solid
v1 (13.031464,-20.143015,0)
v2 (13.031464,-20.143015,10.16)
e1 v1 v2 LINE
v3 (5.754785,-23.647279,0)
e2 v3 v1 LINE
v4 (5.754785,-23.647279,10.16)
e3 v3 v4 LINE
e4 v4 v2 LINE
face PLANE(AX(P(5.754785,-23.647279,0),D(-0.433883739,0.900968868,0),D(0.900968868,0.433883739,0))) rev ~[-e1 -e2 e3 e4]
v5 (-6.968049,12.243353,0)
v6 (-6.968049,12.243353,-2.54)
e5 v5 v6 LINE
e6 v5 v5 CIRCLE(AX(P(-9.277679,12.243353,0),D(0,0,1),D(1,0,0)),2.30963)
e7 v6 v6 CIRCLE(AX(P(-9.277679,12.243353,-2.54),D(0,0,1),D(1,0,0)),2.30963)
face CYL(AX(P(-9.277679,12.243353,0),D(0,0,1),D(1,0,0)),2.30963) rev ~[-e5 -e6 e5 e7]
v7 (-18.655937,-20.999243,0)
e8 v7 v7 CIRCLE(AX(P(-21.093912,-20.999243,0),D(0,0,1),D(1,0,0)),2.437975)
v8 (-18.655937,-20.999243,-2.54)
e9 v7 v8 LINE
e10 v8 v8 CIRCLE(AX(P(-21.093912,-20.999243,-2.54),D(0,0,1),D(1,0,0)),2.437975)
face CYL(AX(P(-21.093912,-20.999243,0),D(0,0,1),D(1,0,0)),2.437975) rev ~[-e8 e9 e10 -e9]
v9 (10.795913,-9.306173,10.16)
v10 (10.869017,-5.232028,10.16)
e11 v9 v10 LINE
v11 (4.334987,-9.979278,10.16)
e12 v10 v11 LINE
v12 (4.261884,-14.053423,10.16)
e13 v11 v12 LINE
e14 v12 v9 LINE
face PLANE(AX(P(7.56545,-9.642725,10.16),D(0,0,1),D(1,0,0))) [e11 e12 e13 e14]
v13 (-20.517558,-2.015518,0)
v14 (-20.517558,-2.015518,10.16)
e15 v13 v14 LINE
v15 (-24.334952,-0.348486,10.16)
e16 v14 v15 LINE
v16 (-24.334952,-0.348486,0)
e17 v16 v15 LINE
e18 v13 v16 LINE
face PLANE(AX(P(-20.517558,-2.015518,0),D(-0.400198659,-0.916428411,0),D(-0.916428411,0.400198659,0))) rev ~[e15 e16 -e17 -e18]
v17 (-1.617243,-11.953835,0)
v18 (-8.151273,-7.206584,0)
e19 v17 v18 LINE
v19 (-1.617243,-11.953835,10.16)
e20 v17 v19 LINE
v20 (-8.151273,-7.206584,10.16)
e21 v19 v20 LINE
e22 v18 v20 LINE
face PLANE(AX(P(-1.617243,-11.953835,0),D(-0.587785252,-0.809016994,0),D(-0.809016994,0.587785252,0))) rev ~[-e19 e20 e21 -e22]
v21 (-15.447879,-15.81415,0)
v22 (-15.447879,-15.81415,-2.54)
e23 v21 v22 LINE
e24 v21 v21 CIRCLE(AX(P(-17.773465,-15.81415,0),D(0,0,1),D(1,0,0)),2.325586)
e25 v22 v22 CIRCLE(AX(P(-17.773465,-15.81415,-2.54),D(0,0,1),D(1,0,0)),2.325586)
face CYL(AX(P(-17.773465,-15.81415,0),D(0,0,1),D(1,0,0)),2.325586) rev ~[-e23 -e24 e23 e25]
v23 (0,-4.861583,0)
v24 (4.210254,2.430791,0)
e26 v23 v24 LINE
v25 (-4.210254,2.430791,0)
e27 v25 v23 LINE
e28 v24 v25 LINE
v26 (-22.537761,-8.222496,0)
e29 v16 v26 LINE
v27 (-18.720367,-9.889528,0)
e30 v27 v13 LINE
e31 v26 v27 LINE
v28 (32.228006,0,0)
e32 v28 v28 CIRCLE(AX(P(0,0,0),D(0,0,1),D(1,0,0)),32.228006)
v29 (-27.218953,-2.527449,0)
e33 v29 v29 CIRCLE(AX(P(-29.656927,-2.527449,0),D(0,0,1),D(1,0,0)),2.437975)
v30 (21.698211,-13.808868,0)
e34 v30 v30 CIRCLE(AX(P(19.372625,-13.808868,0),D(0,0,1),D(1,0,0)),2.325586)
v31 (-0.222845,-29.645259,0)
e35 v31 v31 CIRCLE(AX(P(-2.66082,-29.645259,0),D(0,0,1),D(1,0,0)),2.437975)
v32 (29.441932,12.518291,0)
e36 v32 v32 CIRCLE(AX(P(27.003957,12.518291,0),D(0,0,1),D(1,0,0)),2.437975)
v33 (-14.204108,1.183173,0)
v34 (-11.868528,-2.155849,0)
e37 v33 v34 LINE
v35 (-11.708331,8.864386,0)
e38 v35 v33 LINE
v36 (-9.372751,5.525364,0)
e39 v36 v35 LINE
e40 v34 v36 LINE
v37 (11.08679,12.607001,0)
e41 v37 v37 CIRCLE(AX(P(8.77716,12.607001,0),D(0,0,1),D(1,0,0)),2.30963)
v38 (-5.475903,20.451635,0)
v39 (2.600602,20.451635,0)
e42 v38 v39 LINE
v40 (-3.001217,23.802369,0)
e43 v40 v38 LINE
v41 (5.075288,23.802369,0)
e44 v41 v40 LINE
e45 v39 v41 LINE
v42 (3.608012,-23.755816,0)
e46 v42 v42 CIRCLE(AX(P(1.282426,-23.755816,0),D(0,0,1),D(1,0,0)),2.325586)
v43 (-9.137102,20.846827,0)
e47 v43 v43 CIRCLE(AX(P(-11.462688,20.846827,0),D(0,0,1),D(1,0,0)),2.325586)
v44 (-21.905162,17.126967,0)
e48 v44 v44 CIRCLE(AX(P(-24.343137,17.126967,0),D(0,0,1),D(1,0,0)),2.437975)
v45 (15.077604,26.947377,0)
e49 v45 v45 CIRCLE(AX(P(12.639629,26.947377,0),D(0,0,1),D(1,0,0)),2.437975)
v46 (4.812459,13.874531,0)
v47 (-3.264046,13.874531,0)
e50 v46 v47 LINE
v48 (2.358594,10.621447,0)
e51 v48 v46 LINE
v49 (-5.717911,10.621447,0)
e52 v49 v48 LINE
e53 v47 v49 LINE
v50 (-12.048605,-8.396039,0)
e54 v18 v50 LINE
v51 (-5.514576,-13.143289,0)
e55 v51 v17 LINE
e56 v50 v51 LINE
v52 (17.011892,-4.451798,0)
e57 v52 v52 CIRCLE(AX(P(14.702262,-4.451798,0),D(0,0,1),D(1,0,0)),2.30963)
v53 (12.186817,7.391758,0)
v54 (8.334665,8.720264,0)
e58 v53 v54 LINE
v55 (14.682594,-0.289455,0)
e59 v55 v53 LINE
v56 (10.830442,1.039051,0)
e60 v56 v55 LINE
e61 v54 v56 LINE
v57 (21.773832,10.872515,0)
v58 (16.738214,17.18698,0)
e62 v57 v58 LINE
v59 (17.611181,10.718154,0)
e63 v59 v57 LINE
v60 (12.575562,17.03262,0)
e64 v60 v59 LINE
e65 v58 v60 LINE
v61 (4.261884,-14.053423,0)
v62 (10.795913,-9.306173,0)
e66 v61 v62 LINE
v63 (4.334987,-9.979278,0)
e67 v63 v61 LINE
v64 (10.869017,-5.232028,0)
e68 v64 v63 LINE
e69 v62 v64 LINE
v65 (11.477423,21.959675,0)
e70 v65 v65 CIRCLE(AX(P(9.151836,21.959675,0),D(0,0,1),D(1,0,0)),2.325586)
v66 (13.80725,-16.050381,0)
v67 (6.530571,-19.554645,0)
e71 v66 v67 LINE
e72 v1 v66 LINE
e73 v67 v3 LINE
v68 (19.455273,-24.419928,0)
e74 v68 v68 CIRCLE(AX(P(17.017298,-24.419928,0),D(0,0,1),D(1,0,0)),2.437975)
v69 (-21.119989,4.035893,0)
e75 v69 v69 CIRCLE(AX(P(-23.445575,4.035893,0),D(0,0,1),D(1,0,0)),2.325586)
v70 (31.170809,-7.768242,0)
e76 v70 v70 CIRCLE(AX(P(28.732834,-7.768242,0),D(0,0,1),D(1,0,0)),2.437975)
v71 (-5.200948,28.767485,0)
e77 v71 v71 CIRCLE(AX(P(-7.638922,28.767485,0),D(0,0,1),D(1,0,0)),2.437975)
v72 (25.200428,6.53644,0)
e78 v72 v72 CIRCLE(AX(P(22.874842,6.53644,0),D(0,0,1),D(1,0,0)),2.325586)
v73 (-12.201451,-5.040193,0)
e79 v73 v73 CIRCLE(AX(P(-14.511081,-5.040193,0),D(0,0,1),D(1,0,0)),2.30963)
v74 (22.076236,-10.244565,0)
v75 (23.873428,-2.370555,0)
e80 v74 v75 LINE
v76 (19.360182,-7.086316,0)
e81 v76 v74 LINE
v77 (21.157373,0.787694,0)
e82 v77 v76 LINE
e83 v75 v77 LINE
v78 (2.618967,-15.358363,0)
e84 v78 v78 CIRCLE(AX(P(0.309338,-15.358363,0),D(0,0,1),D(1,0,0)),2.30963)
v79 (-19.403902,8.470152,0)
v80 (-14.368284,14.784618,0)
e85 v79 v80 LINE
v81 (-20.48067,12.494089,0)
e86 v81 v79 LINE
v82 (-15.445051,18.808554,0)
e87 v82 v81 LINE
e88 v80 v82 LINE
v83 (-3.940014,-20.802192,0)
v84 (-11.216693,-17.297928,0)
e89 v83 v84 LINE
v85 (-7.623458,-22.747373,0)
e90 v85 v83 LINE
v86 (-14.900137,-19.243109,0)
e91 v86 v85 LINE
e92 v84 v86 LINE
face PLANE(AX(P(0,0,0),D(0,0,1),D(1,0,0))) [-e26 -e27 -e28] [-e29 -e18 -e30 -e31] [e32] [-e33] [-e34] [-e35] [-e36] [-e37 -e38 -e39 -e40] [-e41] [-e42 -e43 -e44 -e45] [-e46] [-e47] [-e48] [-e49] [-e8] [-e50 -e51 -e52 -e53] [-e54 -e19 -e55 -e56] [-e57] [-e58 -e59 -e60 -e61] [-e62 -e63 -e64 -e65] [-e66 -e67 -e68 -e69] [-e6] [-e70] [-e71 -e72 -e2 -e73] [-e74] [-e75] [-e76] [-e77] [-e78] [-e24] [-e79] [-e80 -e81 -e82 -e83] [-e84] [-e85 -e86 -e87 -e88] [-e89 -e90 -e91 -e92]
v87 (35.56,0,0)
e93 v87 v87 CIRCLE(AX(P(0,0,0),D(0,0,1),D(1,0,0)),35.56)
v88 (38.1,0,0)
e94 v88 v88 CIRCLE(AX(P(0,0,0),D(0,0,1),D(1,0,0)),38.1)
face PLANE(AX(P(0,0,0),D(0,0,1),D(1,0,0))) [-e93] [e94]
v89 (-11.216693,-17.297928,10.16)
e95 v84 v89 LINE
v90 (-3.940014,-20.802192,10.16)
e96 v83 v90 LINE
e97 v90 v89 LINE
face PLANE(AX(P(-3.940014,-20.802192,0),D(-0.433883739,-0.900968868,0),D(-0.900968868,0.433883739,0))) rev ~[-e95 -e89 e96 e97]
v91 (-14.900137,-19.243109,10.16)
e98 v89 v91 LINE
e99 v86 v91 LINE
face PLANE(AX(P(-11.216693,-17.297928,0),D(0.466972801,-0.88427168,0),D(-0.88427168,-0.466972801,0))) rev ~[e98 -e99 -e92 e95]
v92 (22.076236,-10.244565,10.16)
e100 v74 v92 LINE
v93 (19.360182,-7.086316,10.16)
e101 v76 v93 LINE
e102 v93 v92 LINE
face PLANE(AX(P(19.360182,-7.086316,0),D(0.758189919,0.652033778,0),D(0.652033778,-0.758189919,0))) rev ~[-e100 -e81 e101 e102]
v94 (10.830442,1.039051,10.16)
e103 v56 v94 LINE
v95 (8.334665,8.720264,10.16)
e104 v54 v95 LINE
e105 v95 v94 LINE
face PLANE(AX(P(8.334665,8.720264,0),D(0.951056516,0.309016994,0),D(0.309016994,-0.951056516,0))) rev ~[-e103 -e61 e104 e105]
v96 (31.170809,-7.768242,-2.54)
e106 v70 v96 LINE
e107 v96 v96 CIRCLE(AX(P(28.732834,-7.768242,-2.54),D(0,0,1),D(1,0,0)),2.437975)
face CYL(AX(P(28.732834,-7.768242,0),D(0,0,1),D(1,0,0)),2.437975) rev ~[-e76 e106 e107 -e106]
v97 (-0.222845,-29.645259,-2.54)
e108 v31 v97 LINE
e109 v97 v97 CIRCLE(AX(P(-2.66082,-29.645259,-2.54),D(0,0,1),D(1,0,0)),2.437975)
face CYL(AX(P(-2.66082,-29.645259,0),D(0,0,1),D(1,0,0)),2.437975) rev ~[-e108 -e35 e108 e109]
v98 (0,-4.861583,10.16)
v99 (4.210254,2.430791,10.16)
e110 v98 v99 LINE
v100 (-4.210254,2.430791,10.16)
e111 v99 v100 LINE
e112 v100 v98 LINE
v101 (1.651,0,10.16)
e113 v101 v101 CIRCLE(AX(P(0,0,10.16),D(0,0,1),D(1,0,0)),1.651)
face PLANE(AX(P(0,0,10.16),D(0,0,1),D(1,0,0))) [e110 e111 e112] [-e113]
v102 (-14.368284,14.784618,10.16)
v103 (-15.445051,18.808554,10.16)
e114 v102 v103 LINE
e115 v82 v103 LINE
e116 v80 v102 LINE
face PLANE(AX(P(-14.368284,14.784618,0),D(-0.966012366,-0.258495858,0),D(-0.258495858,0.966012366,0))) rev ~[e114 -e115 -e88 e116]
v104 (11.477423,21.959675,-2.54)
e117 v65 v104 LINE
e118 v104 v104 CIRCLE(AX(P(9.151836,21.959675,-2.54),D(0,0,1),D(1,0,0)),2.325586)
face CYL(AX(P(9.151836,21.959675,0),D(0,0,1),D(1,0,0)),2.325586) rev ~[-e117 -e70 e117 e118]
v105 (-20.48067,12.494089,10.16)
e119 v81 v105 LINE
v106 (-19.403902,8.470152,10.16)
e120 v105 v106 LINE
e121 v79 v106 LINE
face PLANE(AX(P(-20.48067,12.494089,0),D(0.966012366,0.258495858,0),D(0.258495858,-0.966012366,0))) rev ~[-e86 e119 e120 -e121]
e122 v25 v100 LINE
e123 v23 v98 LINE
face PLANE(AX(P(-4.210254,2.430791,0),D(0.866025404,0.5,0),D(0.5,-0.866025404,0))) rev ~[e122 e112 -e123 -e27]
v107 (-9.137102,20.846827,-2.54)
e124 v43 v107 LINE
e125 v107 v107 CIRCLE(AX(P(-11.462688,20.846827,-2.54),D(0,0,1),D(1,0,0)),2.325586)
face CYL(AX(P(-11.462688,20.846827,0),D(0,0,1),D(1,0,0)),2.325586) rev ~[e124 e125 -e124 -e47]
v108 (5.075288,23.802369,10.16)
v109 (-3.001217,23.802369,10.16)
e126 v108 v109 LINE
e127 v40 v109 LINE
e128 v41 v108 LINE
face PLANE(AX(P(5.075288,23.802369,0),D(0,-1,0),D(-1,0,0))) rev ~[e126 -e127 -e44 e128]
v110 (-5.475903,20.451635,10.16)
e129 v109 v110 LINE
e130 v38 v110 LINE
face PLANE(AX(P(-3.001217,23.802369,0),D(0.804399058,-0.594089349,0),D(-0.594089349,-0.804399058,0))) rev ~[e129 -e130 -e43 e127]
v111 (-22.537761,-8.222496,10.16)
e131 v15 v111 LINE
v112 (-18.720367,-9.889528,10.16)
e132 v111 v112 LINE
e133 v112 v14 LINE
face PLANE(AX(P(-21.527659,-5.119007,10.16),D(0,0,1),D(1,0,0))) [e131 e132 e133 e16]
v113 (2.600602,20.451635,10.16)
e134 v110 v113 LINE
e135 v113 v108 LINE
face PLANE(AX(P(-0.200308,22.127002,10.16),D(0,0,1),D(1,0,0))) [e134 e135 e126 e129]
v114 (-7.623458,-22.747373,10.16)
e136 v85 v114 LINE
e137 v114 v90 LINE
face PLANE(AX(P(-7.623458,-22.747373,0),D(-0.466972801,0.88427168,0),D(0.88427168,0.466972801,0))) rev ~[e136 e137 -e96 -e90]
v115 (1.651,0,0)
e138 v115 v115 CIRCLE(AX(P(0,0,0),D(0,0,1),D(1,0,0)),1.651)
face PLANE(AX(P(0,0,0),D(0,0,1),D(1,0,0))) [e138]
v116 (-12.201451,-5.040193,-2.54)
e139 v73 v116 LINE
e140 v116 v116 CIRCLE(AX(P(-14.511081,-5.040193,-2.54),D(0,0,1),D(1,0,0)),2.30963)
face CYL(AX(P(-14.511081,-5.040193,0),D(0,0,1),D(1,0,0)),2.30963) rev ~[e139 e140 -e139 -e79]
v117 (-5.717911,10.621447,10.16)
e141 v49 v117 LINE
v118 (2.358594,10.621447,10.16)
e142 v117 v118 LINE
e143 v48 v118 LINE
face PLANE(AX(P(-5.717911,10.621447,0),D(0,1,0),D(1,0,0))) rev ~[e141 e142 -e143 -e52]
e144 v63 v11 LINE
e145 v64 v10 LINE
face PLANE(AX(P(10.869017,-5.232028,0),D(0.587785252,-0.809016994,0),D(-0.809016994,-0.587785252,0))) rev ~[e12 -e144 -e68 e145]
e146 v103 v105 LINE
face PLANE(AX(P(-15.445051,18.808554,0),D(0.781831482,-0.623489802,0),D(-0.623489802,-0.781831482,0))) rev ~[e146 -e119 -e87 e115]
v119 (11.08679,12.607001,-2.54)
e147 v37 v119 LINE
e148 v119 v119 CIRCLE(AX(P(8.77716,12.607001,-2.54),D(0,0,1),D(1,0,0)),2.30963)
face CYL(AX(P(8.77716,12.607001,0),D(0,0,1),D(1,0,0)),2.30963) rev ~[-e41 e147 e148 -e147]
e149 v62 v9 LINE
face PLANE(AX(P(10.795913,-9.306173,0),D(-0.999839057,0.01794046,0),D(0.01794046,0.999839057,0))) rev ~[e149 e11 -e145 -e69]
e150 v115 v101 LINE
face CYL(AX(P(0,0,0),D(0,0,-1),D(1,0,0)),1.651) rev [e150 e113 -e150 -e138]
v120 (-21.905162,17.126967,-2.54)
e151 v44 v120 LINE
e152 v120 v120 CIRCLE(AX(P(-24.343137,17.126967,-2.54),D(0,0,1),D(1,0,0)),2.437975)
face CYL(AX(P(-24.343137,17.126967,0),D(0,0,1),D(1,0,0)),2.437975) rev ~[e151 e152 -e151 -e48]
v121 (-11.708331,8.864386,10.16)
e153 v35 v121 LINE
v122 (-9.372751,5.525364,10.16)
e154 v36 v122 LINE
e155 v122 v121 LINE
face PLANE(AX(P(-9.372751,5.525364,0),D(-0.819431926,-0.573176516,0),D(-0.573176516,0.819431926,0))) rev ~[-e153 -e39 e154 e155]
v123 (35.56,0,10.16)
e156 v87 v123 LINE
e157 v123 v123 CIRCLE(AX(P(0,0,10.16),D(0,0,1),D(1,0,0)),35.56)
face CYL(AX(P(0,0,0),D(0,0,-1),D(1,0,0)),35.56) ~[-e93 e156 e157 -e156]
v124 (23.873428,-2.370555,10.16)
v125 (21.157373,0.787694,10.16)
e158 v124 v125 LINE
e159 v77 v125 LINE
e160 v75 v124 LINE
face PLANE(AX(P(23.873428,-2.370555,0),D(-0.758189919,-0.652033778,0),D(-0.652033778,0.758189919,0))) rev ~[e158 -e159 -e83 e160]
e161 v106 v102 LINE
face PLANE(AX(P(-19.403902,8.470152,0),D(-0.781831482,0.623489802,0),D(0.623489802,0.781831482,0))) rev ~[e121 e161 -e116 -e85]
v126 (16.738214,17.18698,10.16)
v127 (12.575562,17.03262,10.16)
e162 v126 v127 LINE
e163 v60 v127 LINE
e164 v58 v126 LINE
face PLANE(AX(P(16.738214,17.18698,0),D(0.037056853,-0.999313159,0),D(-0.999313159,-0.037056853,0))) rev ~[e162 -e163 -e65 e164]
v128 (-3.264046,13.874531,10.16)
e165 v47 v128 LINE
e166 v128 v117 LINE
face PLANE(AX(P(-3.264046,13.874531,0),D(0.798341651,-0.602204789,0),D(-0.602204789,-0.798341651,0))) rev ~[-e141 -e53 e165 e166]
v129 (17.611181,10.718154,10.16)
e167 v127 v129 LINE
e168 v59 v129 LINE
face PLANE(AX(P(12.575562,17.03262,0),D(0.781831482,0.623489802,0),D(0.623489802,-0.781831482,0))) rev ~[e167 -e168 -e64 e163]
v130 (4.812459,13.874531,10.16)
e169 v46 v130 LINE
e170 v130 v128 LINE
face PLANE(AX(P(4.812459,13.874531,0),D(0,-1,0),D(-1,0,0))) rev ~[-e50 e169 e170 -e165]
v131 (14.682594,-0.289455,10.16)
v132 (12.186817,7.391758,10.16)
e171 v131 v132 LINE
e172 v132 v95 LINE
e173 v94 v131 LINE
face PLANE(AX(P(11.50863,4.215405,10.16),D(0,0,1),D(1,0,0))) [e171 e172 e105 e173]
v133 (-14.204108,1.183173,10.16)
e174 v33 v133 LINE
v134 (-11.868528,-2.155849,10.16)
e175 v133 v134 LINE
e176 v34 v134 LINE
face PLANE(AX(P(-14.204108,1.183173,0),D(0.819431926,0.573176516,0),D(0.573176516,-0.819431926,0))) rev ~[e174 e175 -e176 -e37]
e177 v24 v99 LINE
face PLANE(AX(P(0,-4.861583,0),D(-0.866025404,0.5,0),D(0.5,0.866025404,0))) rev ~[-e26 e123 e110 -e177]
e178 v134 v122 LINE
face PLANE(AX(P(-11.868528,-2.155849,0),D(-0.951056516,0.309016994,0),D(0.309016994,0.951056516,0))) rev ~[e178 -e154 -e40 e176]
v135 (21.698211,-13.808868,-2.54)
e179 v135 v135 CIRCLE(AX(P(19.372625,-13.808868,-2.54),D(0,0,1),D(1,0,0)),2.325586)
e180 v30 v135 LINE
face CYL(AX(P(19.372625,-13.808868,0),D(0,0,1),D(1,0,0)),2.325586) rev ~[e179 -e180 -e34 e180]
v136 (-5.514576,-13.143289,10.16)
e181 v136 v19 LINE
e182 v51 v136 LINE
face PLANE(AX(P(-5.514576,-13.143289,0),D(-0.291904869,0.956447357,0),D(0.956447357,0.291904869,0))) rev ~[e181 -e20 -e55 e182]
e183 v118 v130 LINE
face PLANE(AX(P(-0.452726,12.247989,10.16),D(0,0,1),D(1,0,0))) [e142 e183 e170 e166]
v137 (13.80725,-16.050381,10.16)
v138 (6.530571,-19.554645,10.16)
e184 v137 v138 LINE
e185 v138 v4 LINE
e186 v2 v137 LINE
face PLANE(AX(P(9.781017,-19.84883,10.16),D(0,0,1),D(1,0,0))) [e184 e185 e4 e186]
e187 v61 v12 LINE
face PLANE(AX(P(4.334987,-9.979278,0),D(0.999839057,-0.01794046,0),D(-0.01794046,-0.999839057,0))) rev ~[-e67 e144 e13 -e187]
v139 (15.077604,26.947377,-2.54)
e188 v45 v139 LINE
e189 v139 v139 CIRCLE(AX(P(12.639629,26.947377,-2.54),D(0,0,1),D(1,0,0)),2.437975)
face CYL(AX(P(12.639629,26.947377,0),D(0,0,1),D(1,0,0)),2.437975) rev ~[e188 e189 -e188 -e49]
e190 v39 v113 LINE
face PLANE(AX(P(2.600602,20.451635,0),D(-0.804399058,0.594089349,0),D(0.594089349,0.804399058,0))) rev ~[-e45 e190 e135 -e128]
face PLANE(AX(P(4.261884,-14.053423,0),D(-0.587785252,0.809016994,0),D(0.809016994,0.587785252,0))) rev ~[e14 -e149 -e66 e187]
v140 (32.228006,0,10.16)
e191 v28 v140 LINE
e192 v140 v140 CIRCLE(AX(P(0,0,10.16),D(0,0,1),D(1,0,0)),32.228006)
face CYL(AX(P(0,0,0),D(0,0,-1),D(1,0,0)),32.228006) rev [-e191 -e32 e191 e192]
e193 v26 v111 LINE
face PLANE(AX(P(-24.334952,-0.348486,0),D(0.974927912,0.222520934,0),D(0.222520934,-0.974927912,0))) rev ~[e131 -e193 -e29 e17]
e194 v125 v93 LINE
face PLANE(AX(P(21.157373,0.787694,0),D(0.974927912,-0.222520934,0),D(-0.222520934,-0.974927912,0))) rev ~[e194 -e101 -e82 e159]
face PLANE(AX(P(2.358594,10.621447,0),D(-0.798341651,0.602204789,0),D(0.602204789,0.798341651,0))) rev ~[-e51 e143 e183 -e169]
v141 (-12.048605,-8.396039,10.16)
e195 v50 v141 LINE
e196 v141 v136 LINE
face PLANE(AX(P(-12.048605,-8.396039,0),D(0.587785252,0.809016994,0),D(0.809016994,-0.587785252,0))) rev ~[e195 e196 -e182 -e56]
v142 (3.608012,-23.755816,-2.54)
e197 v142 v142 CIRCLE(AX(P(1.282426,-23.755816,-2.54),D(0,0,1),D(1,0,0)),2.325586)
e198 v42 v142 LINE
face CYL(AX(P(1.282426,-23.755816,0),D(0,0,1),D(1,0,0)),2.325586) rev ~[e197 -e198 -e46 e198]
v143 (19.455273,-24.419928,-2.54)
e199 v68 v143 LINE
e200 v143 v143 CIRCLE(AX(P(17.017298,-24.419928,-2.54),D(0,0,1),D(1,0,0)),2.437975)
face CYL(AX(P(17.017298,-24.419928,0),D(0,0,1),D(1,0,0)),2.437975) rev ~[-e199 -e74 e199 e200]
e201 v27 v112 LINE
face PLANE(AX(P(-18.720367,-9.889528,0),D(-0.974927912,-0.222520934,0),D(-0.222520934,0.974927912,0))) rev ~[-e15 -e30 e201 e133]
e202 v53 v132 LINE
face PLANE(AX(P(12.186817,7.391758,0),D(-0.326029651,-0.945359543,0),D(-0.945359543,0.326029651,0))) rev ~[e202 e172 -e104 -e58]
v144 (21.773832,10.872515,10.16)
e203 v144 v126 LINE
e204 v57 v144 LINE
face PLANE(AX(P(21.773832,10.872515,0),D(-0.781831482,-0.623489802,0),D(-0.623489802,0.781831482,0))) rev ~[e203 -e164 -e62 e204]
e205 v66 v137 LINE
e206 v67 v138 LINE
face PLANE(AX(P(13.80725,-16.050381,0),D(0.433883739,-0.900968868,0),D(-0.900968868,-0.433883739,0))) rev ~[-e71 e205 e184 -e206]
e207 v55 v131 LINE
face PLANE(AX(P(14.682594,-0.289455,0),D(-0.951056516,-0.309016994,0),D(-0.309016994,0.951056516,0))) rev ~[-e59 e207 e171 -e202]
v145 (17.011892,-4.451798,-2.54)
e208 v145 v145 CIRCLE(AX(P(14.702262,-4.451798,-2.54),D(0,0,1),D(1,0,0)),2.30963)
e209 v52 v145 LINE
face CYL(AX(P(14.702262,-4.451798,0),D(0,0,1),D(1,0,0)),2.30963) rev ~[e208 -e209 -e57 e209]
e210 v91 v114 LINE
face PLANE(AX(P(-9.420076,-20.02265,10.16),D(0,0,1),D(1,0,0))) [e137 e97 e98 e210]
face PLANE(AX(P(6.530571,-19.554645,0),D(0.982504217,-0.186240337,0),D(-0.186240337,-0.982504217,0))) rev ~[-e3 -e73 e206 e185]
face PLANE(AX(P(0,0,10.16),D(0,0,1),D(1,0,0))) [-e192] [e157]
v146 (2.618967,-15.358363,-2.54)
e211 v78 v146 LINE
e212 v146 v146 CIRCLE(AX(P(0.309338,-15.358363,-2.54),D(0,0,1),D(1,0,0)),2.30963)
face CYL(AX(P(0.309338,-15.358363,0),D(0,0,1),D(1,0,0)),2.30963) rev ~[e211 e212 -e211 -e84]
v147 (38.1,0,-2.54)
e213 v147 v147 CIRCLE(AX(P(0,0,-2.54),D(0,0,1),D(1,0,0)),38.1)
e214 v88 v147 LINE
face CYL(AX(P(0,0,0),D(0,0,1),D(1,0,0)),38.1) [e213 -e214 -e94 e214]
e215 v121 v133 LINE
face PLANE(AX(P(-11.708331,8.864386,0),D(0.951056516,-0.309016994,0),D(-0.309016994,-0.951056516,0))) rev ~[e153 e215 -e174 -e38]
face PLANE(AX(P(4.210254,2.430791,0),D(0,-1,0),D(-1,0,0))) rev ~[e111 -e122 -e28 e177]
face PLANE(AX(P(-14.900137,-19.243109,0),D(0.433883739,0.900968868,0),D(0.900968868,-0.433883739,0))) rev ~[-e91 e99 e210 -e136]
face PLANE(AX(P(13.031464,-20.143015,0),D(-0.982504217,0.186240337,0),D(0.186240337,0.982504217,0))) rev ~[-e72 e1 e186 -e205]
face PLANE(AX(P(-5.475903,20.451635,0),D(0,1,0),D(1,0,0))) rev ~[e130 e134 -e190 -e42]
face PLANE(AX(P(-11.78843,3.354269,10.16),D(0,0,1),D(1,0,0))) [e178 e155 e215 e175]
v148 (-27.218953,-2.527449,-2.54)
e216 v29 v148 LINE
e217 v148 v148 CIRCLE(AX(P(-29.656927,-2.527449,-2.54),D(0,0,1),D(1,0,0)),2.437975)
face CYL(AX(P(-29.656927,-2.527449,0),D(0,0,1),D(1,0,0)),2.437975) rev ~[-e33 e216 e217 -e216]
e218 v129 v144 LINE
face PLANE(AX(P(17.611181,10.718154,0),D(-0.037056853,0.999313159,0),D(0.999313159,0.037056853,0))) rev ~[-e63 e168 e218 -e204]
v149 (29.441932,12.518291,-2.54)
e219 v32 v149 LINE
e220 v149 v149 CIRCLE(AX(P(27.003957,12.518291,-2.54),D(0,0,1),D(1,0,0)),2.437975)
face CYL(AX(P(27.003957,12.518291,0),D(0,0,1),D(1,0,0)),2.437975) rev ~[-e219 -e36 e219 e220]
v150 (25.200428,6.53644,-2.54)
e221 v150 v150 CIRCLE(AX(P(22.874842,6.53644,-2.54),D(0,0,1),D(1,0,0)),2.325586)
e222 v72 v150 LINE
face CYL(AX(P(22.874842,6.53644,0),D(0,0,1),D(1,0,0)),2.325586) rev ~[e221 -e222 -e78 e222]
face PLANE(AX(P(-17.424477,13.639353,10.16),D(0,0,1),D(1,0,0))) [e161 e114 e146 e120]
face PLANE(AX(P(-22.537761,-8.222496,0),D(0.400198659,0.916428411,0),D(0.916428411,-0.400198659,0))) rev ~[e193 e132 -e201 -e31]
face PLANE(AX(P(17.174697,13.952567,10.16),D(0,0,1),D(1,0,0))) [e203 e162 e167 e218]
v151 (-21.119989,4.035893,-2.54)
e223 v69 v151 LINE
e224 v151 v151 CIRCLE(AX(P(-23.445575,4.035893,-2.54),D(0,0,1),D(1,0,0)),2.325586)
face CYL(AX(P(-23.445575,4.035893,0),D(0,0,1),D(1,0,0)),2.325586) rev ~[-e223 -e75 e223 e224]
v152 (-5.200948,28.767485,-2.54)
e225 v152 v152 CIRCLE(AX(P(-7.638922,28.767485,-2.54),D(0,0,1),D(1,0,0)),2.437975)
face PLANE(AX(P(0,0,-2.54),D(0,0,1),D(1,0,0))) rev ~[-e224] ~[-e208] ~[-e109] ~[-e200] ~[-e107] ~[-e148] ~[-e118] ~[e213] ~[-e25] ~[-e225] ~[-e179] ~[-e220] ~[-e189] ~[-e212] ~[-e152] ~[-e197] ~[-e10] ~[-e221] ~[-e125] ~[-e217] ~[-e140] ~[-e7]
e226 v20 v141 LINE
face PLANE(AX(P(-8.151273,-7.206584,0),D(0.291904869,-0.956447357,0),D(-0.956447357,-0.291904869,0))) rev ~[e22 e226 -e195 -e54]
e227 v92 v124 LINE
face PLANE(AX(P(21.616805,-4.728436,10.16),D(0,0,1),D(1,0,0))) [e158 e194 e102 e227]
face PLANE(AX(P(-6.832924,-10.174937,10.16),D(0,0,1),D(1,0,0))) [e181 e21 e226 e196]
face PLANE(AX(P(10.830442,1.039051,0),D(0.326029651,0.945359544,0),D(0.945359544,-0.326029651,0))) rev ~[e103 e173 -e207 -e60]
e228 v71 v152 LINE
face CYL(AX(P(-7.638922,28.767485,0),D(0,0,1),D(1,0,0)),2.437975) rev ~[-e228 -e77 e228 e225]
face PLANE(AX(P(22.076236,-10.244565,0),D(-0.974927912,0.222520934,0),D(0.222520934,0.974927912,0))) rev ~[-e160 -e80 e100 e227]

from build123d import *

# Parameters (mm, degrees)
F0_R     = 38.1
F2_DEPTH = 2.54
F1_R     = 35.56
F1_R_2   = 1.651
F3_DEPTH = 10.16
F4_R     = 2.4379748878
F4_R_2   = 2.3255862578
F4_R_3   = 2.3096296398
F5_DEPTH = 2.541
F6_R     = 33.02
F6_R_2   = 32.2280056546
F7_DEPTH = 10.16


with BuildPart() as f2:
    # F0 (on Top) → F2 (new body)
    with BuildSketch(Plane.XY):
        Circle(F0_R)
    extrude(amount=-F2_DEPTH)

    # F1 (on Top) → F3 (join)
    with BuildSketch(Plane.XY):
        Circle(F1_R)
        with BuildLine():
            ThreePointArc((31.0887399015, 11.1270234717), (32.5336025637, 5.6466896698), (33.02, 0))
            ThreePointArc((33.02, 0), (33.012710709, -0.6937806881), (32.9908460543, -1.3872550667))
            ThreePointArc((32.9908460543, -1.3872550667), (32.3733882594, -6.5026250548), (30.9676692654, -11.4596623105))
            ThreePointArc((30.9676692654, -11.4596623105), (28.197005304, -17.1828196722), (24.3807439254, -22.2688061118))
            ThreePointArc((24.3807439254, -22.2688061118), (20.6196473654, -25.7905126457), (16.3564820127, -28.6842447376))
            ThreePointArc((16.3564820127, -28.6842447376), (10.5552556409, -31.2874891667), (4.3626207519, -32.730535287))
            ThreePointArc((4.3626207519, -32.730535287), (-0.7822556928, -33.01073274), (-5.9080849557, -32.4871502622))
            ThreePointArc((-5.9080849557, -32.4871502622), (-12.0254154451, -30.7523947583), (-17.6968211565, -27.877283242))
            ThreePointArc((-17.6968211565, -27.877283242), (-21.8181326185, -24.7848641118), (-25.4081933124, -21.0889571246))
            ThreePointArc((-25.4081933124, -21.0889571246), (-28.9792609968, -15.8279130678), (-31.4757237675, -9.9799405466))
            ThreePointArc((-31.4757237675, -9.9799405466), (-32.6450628105, -4.9618821127), (-33.0195256375, 0.1769934293))
            ThreePointArc((-33.0195256375, 0.1769934293), (-32.3733882594, 6.5026250548), (-30.526785414, 12.5871272453))
            ThreePointArc((-30.526785414, 12.5871272453), (-28.197005304, 17.1828196722), (-25.1806549457, 21.3601267905))
            ThreePointArc((-25.1806549457, 21.3601267905), (-20.6196473654, 25.7905126457), (-15.2940248979, 29.2645383087))
            ThreePointArc((-15.2940248979, 29.2645383087), (-10.5552556409, 31.2874891667), (-5.559475953, 32.5486194351))
            ThreePointArc((-5.559475953, 32.5486194351), (0.7822556928, 33.01073274), (7.0949798421, 32.2487466584))
            ThreePointArc((7.0949798421, 32.2487466584), (12.0254154451, 30.7523947583), (16.6630436248, 28.5072513084))
            ThreePointArc((16.6630436248, 28.5072513084), (21.8181326185, 24.7848641118), (26.1641646621, 20.1434080418))
            ThreePointArc((26.1641646621, 20.1434080418), (28.9792609968, 15.8279130678), (31.0887399015, 11.1270234717))
        make_face(mode=Mode.SUBTRACT)
        Polygon((2.6006015495, 20.4516352474), (5.0752879427, 23.8023692852), (-3.0012168531, 23.8023692852), (-5.4759032463, 20.4516352474), align=None)
        Polygon((12.5755624743, 17.032619561), (17.6111808492, 10.7181538433), (21.7738319382, 10.8725146132), (16.7382135634, 17.1869803309), align=None)
        Polygon((21.157373157, 0.787693943), (19.3601817668, -7.0863160152), (22.0762363791, -10.2445653214), (23.8734277693, -2.3705553631), align=None)
        Polygon((13.8072503208, -16.05038128), (6.5305709383, -19.5546453798), (5.7547845533, -23.6472786179), (13.0314639358, -20.1430145181), align=None)
        Polygon((-3.9400136236, -20.8021920311), (-11.2166930061, -17.2979279313), (-14.9001374173, -19.2431087986), (-7.6234580348, -22.7473728984), align=None)
        Polygon((-18.7203669478, -9.8895278954), (-20.5175583381, -2.0155179371), (-24.3349520053, -0.348485566), (-22.537760615, -8.2224955243), align=None)
        Polygon((-19.4039021344, 8.4701524552), (-14.3682837595, 14.7846181728), (-15.4450513907, 18.8085544056), (-20.4806697656, 12.4940886879), align=None)
        Polygon((2.3585940213, 10.6214470988), (4.8124587489, 13.8745305248), (-3.2640460469, 13.8745305248), (-5.7179107745, 10.6214470988), align=None)
        Polygon((10.8304421112, 1.0390514452), (14.6825942043, -0.2894545314), (12.1868169672, 7.3917579835), (8.3346648742, 8.7202639601), align=None)
        Polygon((4.3349873167, -9.9792779897), (4.2618835124, -14.0534232634), (10.7959131473, -9.3061728544), (10.8690169516, -5.2320275806), align=None)
        Polygon((-8.1512726087, -7.206584426), (-12.0486053375, -8.3960387037), (-5.5145757026, -13.1432891127), (-1.6172429738, -11.953834835), align=None)
        Polygon((-9.3727508404, 5.5253638716), (-11.708331128, 8.8643859737), (-14.2041083651, 1.1831734587), (-11.8685280775, -2.1558486433), align=None)
        Polygon((0, -4.8615827019), (4.2102541225, 2.430791351), (-4.2102541225, 2.430791351), align=None)
        Circle(F1_R_2, mode=Mode.SUBTRACT)
    extrude(amount=F3_DEPTH)

    # F4 (on face) → F5 (cut, through all)
    with BuildSketch(Plane.XY):
        with Locations((-7.6389224268, 28.7674851716)):
            Circle(F4_R)
        with Locations((-24.3431371066, 17.1269674708)):
            Circle(F4_R)
        with Locations((-29.6569273904, -2.5274486545)):
            Circle(F4_R)
        with Locations((-21.0939117481, -20.999243465)):
            Circle(F4_R)
        with Locations((-2.6608203662, -29.6452588776)):
            Circle(F4_R)
        with Locations((17.0172984368, -24.419928191)):
            Circle(F4_R)
        with Locations((28.732834175, -7.7682417066)):
            Circle(F4_R)
        with Locations((27.0039574729, 12.5182914067)):
            Circle(F4_R)
        with Locations((12.6396289536, 26.9473768455)):
            Circle(F4_R)
        with Locations((-11.462688446, 20.8468269557)):
            Circle(F4_R_2)
        with Locations((-23.4455749715, 4.0358933071)):
            Circle(F4_R_2)
        with Locations((-17.7734653408, -15.8141503189)):
            Circle(F4_R_2)
        with Locations((1.2824262041, -23.7558162049)):
            Circle(F4_R_2)
        with Locations((19.3726246606, -13.8088679583)):
            Circle(F4_R_2)
        with Locations((22.8748416182, 6.5364395105)):
            Circle(F4_R_2)
        with Locations((9.1518362755, 21.9596747088)):
            Circle(F4_R_2)
        with Locations((-9.2776790261, 12.2433528304)):
            Circle(F4_R_3)
        with Locations((-14.5110809781, -5.0401930012)):
            Circle(F4_R_3)
        with Locations((0.3093377682, -15.358363415)):
            Circle(F4_R_3)
        with Locations((14.7022622328, -4.4517976009)):
            Circle(F4_R_3)
        with Locations((8.7771600032, 12.6070011866)):
            Circle(F4_R_3)
    extrude(amount=-F5_DEPTH, mode=Mode.SUBTRACT)

    # F6 (on face) → F7 (join, through all)
    with BuildSketch(Plane.XY):
        Circle(F6_R)
        Circle(F6_R_2, mode=Mode.SUBTRACT)
    extrude(amount=F7_DEPTH)


solid = f2.part
